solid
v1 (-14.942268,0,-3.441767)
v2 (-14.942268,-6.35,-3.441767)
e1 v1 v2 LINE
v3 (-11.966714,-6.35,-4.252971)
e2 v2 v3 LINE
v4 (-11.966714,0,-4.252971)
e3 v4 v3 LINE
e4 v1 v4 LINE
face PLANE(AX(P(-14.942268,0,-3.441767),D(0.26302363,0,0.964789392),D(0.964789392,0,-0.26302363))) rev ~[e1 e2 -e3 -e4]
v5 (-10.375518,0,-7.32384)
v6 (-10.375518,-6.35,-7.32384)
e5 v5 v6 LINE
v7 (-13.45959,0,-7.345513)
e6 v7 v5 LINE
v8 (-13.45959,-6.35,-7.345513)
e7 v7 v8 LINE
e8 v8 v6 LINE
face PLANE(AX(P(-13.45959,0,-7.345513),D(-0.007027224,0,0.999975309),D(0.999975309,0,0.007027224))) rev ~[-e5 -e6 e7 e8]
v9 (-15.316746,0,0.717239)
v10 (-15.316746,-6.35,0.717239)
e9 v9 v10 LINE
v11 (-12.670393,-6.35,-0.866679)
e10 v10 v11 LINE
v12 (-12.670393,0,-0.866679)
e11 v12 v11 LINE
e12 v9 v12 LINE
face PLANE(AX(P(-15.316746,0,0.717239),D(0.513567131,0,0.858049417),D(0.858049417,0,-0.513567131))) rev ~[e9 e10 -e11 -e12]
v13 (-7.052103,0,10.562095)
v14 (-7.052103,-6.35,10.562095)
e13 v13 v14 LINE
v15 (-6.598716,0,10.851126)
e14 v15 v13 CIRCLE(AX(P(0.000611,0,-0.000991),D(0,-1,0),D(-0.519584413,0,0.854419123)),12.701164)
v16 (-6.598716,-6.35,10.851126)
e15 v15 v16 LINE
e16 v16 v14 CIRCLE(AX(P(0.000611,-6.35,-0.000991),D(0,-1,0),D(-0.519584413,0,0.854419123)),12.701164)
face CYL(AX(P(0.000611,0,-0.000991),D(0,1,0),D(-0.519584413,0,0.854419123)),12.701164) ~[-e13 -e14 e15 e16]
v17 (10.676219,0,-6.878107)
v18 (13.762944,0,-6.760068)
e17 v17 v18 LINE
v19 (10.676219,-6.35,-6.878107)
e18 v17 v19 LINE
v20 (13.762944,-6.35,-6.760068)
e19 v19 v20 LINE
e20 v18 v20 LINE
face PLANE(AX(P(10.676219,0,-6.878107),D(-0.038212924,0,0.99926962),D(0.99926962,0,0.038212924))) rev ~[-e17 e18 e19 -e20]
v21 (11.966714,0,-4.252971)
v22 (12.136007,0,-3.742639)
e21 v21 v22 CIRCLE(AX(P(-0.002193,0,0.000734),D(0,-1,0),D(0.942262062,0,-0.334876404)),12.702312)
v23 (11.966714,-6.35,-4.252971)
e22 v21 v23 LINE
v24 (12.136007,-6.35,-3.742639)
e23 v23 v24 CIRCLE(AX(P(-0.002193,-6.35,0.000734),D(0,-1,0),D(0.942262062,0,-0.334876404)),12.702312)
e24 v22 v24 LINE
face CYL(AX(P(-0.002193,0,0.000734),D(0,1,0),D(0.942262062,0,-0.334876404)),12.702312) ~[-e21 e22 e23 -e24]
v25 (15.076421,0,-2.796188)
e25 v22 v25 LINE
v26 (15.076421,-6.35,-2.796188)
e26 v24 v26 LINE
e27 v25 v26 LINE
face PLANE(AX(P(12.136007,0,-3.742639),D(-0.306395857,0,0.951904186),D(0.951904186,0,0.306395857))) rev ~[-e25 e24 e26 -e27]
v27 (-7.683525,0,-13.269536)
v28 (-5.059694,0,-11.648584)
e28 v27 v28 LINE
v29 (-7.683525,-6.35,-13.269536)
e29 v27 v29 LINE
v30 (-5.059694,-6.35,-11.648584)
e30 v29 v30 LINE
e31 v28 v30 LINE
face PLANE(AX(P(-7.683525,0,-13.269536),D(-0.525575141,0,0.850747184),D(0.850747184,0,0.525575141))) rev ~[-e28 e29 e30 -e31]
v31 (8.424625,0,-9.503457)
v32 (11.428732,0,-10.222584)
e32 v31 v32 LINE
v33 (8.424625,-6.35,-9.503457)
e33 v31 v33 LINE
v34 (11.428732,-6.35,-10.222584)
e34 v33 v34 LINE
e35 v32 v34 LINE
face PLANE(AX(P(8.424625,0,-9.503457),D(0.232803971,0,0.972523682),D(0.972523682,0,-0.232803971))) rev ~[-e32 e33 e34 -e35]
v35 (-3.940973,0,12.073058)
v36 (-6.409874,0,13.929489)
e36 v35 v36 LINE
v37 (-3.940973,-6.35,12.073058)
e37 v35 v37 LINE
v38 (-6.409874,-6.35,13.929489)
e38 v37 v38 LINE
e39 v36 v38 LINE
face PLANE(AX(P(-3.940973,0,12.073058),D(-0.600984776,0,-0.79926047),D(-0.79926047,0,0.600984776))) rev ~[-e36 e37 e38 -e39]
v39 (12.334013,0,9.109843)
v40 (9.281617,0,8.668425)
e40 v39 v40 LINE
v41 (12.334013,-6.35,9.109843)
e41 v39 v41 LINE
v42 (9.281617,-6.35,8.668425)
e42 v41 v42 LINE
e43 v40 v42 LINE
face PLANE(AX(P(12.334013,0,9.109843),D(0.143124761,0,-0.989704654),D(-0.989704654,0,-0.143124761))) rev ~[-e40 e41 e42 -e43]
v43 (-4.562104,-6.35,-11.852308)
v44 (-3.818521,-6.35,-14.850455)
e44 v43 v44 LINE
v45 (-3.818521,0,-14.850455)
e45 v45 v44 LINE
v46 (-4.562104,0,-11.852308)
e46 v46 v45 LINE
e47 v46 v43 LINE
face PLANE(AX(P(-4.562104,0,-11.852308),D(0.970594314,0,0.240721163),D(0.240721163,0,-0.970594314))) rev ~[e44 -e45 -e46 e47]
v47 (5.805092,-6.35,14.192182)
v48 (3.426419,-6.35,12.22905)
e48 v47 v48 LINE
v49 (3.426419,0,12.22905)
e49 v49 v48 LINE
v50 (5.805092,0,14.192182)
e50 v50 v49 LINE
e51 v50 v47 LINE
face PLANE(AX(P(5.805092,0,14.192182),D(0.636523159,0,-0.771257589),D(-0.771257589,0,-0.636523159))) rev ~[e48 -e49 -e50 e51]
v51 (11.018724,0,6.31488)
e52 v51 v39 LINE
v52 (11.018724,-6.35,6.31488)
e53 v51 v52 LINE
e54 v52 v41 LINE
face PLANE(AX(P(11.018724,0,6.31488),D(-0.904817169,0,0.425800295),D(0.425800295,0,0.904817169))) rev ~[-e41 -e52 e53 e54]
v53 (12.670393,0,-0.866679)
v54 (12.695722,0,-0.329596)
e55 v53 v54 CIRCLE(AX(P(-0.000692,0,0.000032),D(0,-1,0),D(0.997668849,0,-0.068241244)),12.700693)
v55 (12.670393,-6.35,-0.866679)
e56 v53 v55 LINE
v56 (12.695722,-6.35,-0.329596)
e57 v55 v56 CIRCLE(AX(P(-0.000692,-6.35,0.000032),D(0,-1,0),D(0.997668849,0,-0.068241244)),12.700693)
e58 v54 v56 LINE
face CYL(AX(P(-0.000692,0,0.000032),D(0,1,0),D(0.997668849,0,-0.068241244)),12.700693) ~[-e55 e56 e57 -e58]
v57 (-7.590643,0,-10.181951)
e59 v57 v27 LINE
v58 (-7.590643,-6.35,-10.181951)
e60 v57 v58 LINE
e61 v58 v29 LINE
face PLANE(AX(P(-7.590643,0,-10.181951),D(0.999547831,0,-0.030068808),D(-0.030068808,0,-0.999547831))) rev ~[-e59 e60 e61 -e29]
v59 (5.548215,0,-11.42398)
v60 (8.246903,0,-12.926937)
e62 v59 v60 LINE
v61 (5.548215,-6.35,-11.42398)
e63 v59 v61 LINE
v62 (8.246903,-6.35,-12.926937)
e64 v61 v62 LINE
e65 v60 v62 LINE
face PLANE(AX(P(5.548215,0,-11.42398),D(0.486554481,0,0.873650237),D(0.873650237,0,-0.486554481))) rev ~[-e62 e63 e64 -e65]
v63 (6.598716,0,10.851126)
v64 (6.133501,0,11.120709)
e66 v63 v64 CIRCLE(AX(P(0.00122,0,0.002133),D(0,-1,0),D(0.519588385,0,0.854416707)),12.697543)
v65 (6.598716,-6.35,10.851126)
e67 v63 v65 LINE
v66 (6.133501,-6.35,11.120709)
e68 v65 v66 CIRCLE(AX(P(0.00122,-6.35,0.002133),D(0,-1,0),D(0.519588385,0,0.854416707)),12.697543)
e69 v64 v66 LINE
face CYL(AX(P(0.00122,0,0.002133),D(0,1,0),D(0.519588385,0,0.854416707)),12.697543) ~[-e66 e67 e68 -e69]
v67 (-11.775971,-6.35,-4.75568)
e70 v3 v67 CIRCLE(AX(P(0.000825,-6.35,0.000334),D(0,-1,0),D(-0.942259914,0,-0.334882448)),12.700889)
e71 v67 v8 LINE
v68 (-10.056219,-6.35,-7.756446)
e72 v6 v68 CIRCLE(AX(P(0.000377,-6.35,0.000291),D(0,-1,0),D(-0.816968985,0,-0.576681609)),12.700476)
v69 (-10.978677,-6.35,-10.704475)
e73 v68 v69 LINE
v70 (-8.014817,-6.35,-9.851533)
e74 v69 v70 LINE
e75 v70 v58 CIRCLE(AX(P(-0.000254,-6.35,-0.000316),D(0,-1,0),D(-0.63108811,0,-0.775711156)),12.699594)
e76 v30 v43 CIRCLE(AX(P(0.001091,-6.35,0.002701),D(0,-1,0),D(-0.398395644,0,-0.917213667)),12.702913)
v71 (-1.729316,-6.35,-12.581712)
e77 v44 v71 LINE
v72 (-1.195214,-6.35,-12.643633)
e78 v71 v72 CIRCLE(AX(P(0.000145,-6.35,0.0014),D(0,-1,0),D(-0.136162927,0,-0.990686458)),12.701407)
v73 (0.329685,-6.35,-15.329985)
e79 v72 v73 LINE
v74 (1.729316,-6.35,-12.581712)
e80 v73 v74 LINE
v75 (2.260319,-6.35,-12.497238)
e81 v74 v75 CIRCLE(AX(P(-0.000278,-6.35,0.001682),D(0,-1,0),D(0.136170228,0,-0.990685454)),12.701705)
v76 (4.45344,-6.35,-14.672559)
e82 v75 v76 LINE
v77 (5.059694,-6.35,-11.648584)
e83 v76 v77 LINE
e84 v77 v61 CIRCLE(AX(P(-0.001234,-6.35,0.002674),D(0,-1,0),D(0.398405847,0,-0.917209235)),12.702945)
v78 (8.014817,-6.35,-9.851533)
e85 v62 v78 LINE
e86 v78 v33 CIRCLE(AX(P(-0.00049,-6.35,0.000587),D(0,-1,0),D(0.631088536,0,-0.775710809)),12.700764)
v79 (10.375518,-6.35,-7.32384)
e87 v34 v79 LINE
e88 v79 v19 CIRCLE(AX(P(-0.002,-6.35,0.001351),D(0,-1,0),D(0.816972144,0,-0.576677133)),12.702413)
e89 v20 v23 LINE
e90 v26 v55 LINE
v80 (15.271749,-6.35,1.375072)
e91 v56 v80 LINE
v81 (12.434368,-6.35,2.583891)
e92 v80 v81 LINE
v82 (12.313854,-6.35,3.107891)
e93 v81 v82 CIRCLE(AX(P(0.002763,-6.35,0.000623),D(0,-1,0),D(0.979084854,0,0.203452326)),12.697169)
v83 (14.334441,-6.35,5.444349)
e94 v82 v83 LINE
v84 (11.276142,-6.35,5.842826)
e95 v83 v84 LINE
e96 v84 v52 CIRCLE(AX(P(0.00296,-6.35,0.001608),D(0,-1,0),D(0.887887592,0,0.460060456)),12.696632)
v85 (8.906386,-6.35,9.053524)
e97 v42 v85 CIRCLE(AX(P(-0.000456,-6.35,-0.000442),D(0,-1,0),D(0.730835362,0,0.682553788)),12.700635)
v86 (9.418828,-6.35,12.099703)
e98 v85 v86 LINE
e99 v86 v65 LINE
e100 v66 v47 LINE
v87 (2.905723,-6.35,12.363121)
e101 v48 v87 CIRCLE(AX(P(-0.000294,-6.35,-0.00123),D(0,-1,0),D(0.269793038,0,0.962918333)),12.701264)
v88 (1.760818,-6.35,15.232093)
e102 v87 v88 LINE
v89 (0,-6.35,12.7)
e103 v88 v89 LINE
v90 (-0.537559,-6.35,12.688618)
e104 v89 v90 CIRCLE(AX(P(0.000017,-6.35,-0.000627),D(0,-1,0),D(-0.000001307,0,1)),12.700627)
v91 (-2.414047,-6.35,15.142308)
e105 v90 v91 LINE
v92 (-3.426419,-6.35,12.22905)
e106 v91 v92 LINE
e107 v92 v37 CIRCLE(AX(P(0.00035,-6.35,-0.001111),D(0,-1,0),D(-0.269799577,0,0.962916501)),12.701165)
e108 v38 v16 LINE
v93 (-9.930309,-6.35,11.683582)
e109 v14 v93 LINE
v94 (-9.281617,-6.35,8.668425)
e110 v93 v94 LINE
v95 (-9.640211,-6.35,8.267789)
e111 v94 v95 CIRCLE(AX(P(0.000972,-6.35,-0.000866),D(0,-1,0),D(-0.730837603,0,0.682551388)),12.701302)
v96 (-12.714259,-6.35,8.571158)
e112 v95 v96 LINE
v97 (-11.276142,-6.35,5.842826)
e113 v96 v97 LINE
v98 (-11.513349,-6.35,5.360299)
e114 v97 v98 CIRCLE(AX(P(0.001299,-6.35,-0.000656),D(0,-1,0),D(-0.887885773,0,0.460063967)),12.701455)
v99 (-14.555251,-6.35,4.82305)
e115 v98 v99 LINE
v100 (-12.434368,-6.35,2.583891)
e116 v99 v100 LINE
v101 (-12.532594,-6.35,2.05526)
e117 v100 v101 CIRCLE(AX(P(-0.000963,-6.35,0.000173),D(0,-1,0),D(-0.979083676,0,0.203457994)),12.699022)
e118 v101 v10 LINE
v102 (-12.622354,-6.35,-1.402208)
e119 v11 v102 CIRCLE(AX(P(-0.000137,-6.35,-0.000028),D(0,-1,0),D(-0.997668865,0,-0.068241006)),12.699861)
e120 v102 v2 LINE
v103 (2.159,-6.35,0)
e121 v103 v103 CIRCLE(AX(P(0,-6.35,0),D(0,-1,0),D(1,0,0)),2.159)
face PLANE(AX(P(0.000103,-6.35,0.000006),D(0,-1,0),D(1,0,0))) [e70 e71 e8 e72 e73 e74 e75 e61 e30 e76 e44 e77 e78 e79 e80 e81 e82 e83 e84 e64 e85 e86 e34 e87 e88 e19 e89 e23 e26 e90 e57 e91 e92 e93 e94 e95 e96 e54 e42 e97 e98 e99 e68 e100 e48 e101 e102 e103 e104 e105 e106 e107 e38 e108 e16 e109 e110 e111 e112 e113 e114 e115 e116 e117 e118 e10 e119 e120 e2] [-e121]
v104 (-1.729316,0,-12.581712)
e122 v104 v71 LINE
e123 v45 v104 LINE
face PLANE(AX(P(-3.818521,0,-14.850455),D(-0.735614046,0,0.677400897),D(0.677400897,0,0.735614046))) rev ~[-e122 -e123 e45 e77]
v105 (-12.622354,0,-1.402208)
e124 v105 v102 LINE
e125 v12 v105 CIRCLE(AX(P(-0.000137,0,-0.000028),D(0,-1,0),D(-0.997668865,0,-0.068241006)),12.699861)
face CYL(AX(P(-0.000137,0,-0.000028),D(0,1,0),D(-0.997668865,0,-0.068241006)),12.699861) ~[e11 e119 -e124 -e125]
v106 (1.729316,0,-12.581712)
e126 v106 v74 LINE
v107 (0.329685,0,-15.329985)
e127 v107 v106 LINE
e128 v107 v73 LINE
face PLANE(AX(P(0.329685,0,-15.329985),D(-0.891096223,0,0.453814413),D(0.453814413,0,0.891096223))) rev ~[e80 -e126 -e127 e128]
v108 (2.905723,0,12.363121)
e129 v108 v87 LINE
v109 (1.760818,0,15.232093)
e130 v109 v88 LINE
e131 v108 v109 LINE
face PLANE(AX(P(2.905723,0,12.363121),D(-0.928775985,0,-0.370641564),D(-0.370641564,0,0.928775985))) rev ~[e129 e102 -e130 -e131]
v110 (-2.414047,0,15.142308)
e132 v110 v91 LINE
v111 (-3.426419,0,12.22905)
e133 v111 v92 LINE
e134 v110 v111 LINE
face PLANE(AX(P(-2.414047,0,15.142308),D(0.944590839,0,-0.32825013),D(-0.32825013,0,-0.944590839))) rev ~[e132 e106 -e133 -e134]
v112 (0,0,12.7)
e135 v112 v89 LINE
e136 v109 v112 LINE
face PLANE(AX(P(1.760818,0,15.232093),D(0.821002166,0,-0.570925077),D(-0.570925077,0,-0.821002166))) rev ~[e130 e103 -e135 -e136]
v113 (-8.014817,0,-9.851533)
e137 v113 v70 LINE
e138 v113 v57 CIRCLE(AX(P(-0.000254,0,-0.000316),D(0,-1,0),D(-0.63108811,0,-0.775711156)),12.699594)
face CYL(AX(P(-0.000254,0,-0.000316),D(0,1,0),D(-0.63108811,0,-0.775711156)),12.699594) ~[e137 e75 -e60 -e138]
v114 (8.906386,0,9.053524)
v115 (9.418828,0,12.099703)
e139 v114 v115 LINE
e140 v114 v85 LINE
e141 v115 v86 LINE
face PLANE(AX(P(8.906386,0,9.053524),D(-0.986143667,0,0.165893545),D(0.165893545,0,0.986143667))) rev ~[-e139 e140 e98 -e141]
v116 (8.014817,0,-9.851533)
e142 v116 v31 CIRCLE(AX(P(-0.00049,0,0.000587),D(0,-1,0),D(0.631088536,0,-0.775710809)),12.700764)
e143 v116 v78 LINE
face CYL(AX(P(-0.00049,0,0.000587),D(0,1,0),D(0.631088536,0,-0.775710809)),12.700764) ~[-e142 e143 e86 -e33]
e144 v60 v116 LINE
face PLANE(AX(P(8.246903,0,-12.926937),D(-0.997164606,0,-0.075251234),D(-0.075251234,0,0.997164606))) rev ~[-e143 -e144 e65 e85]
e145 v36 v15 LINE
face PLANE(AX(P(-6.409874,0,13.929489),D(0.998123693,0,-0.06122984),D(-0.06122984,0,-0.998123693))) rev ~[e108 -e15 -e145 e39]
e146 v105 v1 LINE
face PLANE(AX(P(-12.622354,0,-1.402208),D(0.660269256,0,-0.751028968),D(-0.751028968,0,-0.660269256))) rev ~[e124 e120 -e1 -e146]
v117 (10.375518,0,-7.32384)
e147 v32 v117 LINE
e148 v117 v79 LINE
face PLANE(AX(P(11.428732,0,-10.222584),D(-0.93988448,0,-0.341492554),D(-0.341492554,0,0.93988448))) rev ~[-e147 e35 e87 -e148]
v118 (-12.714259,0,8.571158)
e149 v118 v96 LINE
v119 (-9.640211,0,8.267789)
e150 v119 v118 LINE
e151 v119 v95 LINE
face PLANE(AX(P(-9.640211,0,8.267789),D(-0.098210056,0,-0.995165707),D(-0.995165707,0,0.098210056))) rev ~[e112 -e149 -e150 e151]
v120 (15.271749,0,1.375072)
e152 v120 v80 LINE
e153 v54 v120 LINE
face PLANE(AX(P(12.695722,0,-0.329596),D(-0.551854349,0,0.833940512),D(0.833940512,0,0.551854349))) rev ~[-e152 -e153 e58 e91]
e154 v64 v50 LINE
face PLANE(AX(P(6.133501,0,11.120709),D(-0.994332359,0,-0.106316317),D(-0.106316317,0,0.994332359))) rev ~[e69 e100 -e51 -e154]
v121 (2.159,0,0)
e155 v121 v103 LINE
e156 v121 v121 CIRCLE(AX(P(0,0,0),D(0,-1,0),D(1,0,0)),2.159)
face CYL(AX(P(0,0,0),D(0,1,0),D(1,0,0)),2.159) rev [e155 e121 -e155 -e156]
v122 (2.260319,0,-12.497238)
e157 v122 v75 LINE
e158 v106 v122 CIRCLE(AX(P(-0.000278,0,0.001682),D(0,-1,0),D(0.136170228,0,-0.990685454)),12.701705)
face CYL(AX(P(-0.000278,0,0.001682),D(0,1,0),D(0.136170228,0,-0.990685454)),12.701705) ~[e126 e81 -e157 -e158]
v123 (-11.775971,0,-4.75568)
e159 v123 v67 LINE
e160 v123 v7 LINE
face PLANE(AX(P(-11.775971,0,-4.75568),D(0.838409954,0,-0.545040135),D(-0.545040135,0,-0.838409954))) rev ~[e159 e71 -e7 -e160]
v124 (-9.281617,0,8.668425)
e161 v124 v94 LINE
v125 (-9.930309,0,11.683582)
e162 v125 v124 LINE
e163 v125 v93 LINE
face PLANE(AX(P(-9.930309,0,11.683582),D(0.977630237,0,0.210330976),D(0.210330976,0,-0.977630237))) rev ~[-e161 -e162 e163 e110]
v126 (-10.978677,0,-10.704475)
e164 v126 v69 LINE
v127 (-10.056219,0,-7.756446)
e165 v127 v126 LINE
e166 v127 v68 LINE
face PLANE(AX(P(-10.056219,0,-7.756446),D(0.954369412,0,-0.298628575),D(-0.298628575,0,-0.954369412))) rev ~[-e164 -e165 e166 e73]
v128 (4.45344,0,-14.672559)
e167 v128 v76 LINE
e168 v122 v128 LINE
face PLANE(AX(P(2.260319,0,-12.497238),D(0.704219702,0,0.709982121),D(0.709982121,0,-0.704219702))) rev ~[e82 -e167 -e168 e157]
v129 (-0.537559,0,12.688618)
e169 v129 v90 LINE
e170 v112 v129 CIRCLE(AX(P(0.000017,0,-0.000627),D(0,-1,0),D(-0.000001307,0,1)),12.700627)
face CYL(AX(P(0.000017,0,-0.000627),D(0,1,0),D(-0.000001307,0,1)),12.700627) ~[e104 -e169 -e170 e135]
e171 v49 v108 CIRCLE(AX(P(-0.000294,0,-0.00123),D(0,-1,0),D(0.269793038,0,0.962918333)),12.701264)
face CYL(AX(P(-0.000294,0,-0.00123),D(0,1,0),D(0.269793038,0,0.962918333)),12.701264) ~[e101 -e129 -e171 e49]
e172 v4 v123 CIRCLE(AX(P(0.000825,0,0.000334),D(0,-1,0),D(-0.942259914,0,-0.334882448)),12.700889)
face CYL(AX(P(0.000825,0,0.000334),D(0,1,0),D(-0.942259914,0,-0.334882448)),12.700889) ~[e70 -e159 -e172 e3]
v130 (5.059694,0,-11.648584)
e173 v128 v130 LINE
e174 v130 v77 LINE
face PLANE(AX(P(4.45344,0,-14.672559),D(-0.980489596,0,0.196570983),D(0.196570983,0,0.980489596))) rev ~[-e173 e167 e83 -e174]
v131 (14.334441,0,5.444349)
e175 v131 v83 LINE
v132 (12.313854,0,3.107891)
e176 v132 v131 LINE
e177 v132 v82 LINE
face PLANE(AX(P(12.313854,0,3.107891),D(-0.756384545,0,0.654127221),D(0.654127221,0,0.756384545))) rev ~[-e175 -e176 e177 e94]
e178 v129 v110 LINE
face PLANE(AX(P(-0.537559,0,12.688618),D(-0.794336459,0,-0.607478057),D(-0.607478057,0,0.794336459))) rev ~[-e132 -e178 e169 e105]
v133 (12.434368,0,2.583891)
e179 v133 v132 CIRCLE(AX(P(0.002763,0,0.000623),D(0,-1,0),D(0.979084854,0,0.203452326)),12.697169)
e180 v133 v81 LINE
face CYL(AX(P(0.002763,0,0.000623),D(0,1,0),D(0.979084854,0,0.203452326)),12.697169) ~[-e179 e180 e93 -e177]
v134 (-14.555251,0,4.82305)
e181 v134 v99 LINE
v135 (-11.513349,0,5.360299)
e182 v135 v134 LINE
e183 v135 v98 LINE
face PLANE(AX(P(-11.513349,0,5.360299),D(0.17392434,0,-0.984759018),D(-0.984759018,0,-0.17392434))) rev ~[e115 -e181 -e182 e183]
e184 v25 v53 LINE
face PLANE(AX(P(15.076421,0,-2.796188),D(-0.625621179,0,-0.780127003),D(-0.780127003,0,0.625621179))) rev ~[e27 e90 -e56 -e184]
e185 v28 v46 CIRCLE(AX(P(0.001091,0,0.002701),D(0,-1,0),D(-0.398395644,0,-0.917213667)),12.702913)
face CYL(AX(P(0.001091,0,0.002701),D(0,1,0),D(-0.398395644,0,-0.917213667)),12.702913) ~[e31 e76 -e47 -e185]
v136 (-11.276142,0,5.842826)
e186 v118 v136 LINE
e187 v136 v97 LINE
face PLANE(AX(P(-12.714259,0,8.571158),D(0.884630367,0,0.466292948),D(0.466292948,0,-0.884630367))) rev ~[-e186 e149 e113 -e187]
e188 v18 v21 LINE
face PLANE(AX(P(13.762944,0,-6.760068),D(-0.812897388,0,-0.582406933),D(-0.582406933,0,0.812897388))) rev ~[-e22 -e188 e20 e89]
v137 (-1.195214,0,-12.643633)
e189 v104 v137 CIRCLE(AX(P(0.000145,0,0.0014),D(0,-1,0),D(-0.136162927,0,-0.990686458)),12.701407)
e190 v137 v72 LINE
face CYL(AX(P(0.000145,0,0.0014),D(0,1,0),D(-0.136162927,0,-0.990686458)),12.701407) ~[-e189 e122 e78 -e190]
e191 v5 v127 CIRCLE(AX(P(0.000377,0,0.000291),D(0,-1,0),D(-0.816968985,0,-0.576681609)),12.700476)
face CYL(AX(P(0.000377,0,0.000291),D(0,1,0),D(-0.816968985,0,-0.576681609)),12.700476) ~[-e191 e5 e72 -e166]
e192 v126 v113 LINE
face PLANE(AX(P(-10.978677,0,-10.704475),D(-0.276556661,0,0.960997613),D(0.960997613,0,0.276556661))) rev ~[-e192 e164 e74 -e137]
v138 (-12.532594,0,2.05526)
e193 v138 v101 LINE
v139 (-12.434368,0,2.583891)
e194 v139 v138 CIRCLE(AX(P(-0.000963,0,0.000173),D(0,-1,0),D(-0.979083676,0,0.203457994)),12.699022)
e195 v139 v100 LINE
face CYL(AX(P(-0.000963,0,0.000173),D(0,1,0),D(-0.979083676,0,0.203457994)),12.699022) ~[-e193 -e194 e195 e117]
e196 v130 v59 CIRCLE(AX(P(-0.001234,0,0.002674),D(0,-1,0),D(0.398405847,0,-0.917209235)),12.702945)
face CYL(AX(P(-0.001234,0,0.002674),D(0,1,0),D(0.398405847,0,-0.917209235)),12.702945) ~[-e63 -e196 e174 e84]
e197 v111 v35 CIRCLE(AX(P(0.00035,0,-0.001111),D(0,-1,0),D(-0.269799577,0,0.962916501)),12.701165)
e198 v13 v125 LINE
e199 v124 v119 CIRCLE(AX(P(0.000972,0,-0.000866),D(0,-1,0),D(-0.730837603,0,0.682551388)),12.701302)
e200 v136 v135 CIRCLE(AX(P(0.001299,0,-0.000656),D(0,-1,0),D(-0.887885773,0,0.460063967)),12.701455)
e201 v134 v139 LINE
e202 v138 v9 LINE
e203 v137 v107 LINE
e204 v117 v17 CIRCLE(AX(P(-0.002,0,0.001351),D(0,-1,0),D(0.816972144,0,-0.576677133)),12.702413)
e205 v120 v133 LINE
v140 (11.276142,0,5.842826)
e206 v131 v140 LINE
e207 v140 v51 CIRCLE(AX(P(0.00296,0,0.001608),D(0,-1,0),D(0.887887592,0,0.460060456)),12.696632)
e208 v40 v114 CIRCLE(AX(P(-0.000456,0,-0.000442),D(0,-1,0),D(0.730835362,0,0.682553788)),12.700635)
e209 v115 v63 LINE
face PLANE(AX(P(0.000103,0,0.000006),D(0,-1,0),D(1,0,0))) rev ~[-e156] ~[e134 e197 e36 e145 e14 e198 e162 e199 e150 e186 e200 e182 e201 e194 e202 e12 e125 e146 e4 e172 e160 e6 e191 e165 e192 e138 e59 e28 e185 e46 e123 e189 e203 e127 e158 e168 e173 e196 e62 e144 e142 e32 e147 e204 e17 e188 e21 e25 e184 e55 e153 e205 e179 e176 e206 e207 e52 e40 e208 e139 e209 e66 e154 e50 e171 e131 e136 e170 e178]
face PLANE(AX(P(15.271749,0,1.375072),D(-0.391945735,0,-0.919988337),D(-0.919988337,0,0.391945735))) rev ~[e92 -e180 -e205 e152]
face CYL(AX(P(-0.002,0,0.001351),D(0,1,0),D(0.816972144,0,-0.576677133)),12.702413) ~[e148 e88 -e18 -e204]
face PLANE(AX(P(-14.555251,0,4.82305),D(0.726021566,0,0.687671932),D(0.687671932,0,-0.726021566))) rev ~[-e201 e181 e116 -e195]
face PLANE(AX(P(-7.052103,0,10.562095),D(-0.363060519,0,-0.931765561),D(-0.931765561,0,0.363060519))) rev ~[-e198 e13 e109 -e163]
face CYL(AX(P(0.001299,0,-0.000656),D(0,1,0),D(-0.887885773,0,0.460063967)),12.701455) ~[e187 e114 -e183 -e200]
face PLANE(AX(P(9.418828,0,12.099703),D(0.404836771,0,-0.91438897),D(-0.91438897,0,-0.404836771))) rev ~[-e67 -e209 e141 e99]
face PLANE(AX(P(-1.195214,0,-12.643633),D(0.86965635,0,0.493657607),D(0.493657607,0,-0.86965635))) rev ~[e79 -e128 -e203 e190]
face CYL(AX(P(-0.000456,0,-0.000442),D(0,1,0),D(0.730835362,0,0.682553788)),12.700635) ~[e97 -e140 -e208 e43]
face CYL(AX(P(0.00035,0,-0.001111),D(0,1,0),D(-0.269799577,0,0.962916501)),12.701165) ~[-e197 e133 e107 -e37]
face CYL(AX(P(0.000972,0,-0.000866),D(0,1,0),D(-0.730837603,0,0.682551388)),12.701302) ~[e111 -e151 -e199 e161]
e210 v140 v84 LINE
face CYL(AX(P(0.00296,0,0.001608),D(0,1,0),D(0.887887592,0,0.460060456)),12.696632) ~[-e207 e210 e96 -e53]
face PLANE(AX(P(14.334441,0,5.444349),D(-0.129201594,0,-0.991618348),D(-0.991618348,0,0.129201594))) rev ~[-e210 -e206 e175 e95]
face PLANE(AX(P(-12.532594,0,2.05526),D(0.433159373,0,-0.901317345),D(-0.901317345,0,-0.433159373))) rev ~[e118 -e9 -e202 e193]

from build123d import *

# Parameters (mm, degrees)
F0_R     = 2.159
F1_DEPTH = 6.35


with BuildPart() as f1:
    # F0 (on Front) → F1 (new body)
    with BuildSketch(Plane.XZ):
        with BuildLine():
            ThreePointArc((12.695722, -0.329596), (12.698931, -0.164812), (12.7, 0))
            ThreePointArc((12.7, 0), (12.633417, 1.298755), (12.434368, 2.583891))
            ThreePointArc((12.434368, 2.583891), (12.376885, 2.846529), (12.313854, 3.107891))
            ThreePointArc((12.313854, 3.107891), (11.874003, 4.505335), (11.276142, 5.842826))
            ThreePointArc((11.276142, 5.842826), (11.149932, 6.080216), (11.018724, 6.31488))
            ThreePointArc((11.018724, 6.31488), (10.218158, 7.541833), (9.281617, 8.668425))
            ThreePointArc((9.281617, 8.668425), (9.09604, 8.86296), (8.906386, 9.053524))
            ThreePointArc((8.906386, 9.053524), (7.804479, 10.018987), (6.598716, 10.851126))
            ThreePointArc((6.598716, 10.851126), (6.367536, 10.98838), (6.133501, 11.120709))
            ThreePointArc((6.133501, 11.120709), (4.811977, 11.753079), (3.426419, 12.22905))
            ThreePointArc((3.426419, 12.22905), (3.166781, 12.298841), (2.905723, 12.363121))
            ThreePointArc((2.905723, 12.363121), (1.462593, 12.615499), (0, 12.7))
            ThreePointArc((0, 12.7), (-0.26884, 12.697154), (-0.537559, 12.688618))
            ThreePointArc((-0.537559, 12.688618), (-1.995265, 12.542285), (-3.426419, 12.22905))
            ThreePointArc((-3.426419, 12.22905), (-3.684522, 12.153777), (-3.940973, 12.073058))
            ThreePointArc((-3.940973, 12.073058), (-5.305143, 11.538867), (-6.598716, 10.851126))
            ThreePointArc((-6.598716, 10.851126), (-6.826939, 10.70901), (-7.052103, 10.562095))
            ThreePointArc((-7.052103, 10.562095), (-8.221563, 9.679664), (-9.281617, 8.668425))
            ThreePointArc((-9.281617, 8.668425), (-9.463034, 8.470005), (-9.640211, 8.267789))
            ThreePointArc((-9.640211, 8.267789), (-10.528227, 7.102565), (-11.276142, 5.842826))
            ThreePointArc((-11.276142, 5.842826), (-11.397299, 5.602818), (-11.513349, 5.360299))
            ThreePointArc((-11.513349, 5.360299), (-12.054061, 3.998701), (-12.434368, 2.583891))
            ThreePointArc((-12.434368, 2.583891), (-12.486279, 2.320096), (-12.532594, 2.05526))
            ThreePointArc((-12.532594, 2.05526), (-12.6859, 0.598271), (-12.670393, -0.866679))
            ThreePointArc((-12.670393, -0.866679), (-12.649208, -1.134697), (-12.622354, -1.402208))
            ThreePointArc((-12.622354, -1.402208), (-12.376885, -2.846529), (-11.966714, -4.252971))
            ThreePointArc((-11.966714, -4.252971), (-11.874003, -4.505335), (-11.775971, -4.75568))
            ThreePointArc((-11.775971, -4.75568), (-11.149932, -6.080216), (-10.375518, -7.32384))
            ThreePointArc((-10.375518, -7.32384), (-10.218158, -7.541833), (-10.056219, -7.756446))
            ThreePointArc((-10.056219, -7.756446), (-9.09604, -8.86296), (-8.014817, -9.851533))
            ThreePointArc((-8.014817, -9.851533), (-7.804479, -10.018987), (-7.590643, -10.181951))
            ThreePointArc((-7.590643, -10.181951), (-6.367536, -10.98838), (-5.059694, -11.648584))
            ThreePointArc((-5.059694, -11.648584), (-4.811977, -11.753079), (-4.562104, -11.852308))
            ThreePointArc((-4.562104, -11.852308), (-3.166781, -12.298841), (-1.729316, -12.581712))
            ThreePointArc((-1.729316, -12.581712), (-1.462593, -12.615499), (-1.195214, -12.643633))
            ThreePointArc((-1.195214, -12.643633), (0.26884, -12.697154), (1.729316, -12.581712))
            ThreePointArc((1.729316, -12.581712), (1.995265, -12.542285), (2.260319, -12.497238))
            ThreePointArc((2.260319, -12.497238), (3.684522, -12.153777), (5.059694, -11.648584))
            ThreePointArc((5.059694, -11.648584), (5.305143, -11.538867), (5.548215, -11.42398))
            ThreePointArc((5.548215, -11.42398), (6.826939, -10.70901), (8.014817, -9.851533))
            ThreePointArc((8.014817, -9.851533), (8.221563, -9.679664), (8.424625, -9.503457))
            ThreePointArc((8.424625, -9.503457), (9.463034, -8.470005), (10.375518, -7.32384))
            ThreePointArc((10.375518, -7.32384), (10.528227, -7.102565), (10.676219, -6.878107))
            ThreePointArc((10.676219, -6.878107), (11.397299, -5.602818), (11.966714, -4.252971))
            ThreePointArc((11.966714, -4.252971), (12.054061, -3.998701), (12.136007, -3.742639))
            ThreePointArc((12.136007, -3.742639), (12.486279, -2.320096), (12.670393, -0.866679))
            ThreePointArc((12.670393, -0.866679), (12.6859, -0.598271), (12.695722, -0.329596))
        make_face()
        Circle(F0_R, mode=Mode.SUBTRACT)
        with BuildLine():
            ThreePointArc((-12.670393, -0.866679), (-12.6859, 0.598271), (-12.532594, 2.05526))
            Line((-12.532594, 2.05526), (-15.316746, 0.717239))
            Line((-15.316746, 0.717239), (-12.670393, -0.866679))
        make_face()
        with BuildLine():
            ThreePointArc((-12.434368, 2.583891), (-12.054061, 3.998701), (-11.513349, 5.360299))
            Line((-11.513349, 5.360299), (-14.555251, 4.82305))
            Line((-14.555251, 4.82305), (-12.434368, 2.583891))
        make_face()
        with BuildLine():
            ThreePointArc((-11.276142, 5.842826), (-10.528227, 7.102565), (-9.640211, 8.267789))
            Line((-9.640211, 8.267789), (-12.714259, 8.571158))
            Line((-12.714259, 8.571158), (-11.276142, 5.842826))
        make_face()
        with BuildLine():
            ThreePointArc((-9.281617, 8.668425), (-8.221563, 9.679664), (-7.052103, 10.562095))
            Line((-7.052103, 10.562095), (-9.930309, 11.683582))
            Line((-9.930309, 11.683582), (-9.281617, 8.668425))
        make_face()
        with BuildLine():
            ThreePointArc((-6.598716, 10.851126), (-5.305143, 11.538867), (-3.940973, 12.073058))
            Line((-3.940973, 12.073058), (-6.409874, 13.929489))
            Line((-6.409874, 13.929489), (-6.598716, 10.851126))
        make_face()
        with BuildLine():
            ThreePointArc((-3.426419, 12.22905), (-1.995265, 12.542285), (-0.537559, 12.688618))
            Line((-0.537559, 12.688618), (-2.414047, 15.142308))
            Line((-2.414047, 15.142308), (-3.426419, 12.22905))
        make_face()
        with BuildLine():
            ThreePointArc((0, 12.7), (1.462593, 12.615499), (2.905723, 12.363121))
            Line((2.905723, 12.363121), (1.760818, 15.232093))
            Line((1.760818, 15.232093), (0, 12.7))
        make_face()
        with BuildLine():
            ThreePointArc((3.426419, 12.22905), (4.811977, 11.753079), (6.133501, 11.120709))
            Line((6.133501, 11.120709), (5.805092, 14.192182))
            Line((5.805092, 14.192182), (3.426419, 12.22905))
        make_face()
        with BuildLine():
            ThreePointArc((6.598716, 10.851126), (7.804479, 10.018987), (8.906386, 9.053524))
            Line((8.906386, 9.053524), (9.418828, 12.099703))
            Line((9.418828, 12.099703), (6.598716, 10.851126))
        make_face()
        with BuildLine():
            ThreePointArc((9.281617, 8.668425), (10.218158, 7.541833), (11.018724, 6.31488))
            Line((11.018724, 6.31488), (12.334013, 9.109843))
            Line((12.334013, 9.109843), (9.281617, 8.668425))
        make_face()
        with BuildLine():
            ThreePointArc((11.276142, 5.842826), (11.874003, 4.505335), (12.313854, 3.107891))
            Line((12.313854, 3.107891), (14.334441, 5.444349))
            Line((14.334441, 5.444349), (11.276142, 5.842826))
        make_face()
        with BuildLine():
            ThreePointArc((12.434368, 2.583891), (12.633417, 1.298755), (12.7, 0))
            ThreePointArc((12.7, 0), (12.698931, -0.164812), (12.695722, -0.329596))
            Line((12.695722, -0.329596), (15.271749, 1.375072))
            Line((15.271749, 1.375072), (12.434368, 2.583891))
        make_face()
        with BuildLine():
            Line((15.076421, -2.796188), (12.670393, -0.866679))
            ThreePointArc((12.670393, -0.866679), (12.486279, -2.320096), (12.136007, -3.742639))
            Line((12.136007, -3.742639), (15.076421, -2.796188))
        make_face()
        with BuildLine():
            Line((13.762944, -6.760068), (11.966714, -4.252971))
            ThreePointArc((11.966714, -4.252971), (11.397299, -5.602818), (10.676219, -6.878107))
            Line((10.676219, -6.878107), (13.762944, -6.760068))
        make_face()
        with BuildLine():
            Line((11.428732, -10.222584), (10.375518, -7.32384))
            ThreePointArc((10.375518, -7.32384), (9.463034, -8.470005), (8.424625, -9.503457))
            Line((8.424625, -9.503457), (11.428732, -10.222584))
        make_face()
        with BuildLine():
            Line((8.246903, -12.926937), (8.014817, -9.851533))
            ThreePointArc((8.014817, -9.851533), (6.826939, -10.70901), (5.548215, -11.42398))
            Line((5.548215, -11.42398), (8.246903, -12.926937))
        make_face()
        with BuildLine():
            Line((4.45344, -14.672559), (5.059694, -11.648584))
            ThreePointArc((5.059694, -11.648584), (3.684522, -12.153777), (2.260319, -12.497238))
            Line((2.260319, -12.497238), (4.45344, -14.672559))
        make_face()
        with BuildLine():
            Line((0.329685, -15.329985), (1.729316, -12.581712))
            ThreePointArc((1.729316, -12.581712), (0.26884, -12.697154), (-1.195214, -12.643633))
            Line((-1.195214, -12.643633), (0.329685, -15.329985))
        make_face()
        with BuildLine():
            Line((-3.818521, -14.850455), (-1.729316, -12.581712))
            ThreePointArc((-1.729316, -12.581712), (-3.166781, -12.298841), (-4.562104, -11.852308))
            Line((-4.562104, -11.852308), (-3.818521, -14.850455))
        make_face()
        with BuildLine():
            Line((-7.683525, -13.269536), (-5.059694, -11.648584))
            ThreePointArc((-5.059694, -11.648584), (-6.367536, -10.98838), (-7.590643, -10.181951))
            Line((-7.590643, -10.181951), (-7.683525, -13.269536))
        make_face()
        with BuildLine():
            Line((-10.978677, -10.704475), (-8.014817, -9.851533))
            ThreePointArc((-8.014817, -9.851533), (-9.09604, -8.86296), (-10.056219, -7.756446))
            Line((-10.056219, -7.756446), (-10.978677, -10.704475))
        make_face()
        with BuildLine():
            Line((-13.45959, -7.345513), (-10.375518, -7.32384))
            ThreePointArc((-10.375518, -7.32384), (-11.149932, -6.080216), (-11.775971, -4.75568))
            Line((-11.775971, -4.75568), (-13.45959, -7.345513))
        make_face()
        with BuildLine():
            Line((-14.942268, -3.441767), (-11.966714, -4.252971))
            ThreePointArc((-11.966714, -4.252971), (-12.376885, -2.846529), (-12.622354, -1.402208))
            Line((-12.622354, -1.402208), (-14.942268, -3.441767))
        make_face()
    extrude(amount=F1_DEPTH)


solid = f1.part
